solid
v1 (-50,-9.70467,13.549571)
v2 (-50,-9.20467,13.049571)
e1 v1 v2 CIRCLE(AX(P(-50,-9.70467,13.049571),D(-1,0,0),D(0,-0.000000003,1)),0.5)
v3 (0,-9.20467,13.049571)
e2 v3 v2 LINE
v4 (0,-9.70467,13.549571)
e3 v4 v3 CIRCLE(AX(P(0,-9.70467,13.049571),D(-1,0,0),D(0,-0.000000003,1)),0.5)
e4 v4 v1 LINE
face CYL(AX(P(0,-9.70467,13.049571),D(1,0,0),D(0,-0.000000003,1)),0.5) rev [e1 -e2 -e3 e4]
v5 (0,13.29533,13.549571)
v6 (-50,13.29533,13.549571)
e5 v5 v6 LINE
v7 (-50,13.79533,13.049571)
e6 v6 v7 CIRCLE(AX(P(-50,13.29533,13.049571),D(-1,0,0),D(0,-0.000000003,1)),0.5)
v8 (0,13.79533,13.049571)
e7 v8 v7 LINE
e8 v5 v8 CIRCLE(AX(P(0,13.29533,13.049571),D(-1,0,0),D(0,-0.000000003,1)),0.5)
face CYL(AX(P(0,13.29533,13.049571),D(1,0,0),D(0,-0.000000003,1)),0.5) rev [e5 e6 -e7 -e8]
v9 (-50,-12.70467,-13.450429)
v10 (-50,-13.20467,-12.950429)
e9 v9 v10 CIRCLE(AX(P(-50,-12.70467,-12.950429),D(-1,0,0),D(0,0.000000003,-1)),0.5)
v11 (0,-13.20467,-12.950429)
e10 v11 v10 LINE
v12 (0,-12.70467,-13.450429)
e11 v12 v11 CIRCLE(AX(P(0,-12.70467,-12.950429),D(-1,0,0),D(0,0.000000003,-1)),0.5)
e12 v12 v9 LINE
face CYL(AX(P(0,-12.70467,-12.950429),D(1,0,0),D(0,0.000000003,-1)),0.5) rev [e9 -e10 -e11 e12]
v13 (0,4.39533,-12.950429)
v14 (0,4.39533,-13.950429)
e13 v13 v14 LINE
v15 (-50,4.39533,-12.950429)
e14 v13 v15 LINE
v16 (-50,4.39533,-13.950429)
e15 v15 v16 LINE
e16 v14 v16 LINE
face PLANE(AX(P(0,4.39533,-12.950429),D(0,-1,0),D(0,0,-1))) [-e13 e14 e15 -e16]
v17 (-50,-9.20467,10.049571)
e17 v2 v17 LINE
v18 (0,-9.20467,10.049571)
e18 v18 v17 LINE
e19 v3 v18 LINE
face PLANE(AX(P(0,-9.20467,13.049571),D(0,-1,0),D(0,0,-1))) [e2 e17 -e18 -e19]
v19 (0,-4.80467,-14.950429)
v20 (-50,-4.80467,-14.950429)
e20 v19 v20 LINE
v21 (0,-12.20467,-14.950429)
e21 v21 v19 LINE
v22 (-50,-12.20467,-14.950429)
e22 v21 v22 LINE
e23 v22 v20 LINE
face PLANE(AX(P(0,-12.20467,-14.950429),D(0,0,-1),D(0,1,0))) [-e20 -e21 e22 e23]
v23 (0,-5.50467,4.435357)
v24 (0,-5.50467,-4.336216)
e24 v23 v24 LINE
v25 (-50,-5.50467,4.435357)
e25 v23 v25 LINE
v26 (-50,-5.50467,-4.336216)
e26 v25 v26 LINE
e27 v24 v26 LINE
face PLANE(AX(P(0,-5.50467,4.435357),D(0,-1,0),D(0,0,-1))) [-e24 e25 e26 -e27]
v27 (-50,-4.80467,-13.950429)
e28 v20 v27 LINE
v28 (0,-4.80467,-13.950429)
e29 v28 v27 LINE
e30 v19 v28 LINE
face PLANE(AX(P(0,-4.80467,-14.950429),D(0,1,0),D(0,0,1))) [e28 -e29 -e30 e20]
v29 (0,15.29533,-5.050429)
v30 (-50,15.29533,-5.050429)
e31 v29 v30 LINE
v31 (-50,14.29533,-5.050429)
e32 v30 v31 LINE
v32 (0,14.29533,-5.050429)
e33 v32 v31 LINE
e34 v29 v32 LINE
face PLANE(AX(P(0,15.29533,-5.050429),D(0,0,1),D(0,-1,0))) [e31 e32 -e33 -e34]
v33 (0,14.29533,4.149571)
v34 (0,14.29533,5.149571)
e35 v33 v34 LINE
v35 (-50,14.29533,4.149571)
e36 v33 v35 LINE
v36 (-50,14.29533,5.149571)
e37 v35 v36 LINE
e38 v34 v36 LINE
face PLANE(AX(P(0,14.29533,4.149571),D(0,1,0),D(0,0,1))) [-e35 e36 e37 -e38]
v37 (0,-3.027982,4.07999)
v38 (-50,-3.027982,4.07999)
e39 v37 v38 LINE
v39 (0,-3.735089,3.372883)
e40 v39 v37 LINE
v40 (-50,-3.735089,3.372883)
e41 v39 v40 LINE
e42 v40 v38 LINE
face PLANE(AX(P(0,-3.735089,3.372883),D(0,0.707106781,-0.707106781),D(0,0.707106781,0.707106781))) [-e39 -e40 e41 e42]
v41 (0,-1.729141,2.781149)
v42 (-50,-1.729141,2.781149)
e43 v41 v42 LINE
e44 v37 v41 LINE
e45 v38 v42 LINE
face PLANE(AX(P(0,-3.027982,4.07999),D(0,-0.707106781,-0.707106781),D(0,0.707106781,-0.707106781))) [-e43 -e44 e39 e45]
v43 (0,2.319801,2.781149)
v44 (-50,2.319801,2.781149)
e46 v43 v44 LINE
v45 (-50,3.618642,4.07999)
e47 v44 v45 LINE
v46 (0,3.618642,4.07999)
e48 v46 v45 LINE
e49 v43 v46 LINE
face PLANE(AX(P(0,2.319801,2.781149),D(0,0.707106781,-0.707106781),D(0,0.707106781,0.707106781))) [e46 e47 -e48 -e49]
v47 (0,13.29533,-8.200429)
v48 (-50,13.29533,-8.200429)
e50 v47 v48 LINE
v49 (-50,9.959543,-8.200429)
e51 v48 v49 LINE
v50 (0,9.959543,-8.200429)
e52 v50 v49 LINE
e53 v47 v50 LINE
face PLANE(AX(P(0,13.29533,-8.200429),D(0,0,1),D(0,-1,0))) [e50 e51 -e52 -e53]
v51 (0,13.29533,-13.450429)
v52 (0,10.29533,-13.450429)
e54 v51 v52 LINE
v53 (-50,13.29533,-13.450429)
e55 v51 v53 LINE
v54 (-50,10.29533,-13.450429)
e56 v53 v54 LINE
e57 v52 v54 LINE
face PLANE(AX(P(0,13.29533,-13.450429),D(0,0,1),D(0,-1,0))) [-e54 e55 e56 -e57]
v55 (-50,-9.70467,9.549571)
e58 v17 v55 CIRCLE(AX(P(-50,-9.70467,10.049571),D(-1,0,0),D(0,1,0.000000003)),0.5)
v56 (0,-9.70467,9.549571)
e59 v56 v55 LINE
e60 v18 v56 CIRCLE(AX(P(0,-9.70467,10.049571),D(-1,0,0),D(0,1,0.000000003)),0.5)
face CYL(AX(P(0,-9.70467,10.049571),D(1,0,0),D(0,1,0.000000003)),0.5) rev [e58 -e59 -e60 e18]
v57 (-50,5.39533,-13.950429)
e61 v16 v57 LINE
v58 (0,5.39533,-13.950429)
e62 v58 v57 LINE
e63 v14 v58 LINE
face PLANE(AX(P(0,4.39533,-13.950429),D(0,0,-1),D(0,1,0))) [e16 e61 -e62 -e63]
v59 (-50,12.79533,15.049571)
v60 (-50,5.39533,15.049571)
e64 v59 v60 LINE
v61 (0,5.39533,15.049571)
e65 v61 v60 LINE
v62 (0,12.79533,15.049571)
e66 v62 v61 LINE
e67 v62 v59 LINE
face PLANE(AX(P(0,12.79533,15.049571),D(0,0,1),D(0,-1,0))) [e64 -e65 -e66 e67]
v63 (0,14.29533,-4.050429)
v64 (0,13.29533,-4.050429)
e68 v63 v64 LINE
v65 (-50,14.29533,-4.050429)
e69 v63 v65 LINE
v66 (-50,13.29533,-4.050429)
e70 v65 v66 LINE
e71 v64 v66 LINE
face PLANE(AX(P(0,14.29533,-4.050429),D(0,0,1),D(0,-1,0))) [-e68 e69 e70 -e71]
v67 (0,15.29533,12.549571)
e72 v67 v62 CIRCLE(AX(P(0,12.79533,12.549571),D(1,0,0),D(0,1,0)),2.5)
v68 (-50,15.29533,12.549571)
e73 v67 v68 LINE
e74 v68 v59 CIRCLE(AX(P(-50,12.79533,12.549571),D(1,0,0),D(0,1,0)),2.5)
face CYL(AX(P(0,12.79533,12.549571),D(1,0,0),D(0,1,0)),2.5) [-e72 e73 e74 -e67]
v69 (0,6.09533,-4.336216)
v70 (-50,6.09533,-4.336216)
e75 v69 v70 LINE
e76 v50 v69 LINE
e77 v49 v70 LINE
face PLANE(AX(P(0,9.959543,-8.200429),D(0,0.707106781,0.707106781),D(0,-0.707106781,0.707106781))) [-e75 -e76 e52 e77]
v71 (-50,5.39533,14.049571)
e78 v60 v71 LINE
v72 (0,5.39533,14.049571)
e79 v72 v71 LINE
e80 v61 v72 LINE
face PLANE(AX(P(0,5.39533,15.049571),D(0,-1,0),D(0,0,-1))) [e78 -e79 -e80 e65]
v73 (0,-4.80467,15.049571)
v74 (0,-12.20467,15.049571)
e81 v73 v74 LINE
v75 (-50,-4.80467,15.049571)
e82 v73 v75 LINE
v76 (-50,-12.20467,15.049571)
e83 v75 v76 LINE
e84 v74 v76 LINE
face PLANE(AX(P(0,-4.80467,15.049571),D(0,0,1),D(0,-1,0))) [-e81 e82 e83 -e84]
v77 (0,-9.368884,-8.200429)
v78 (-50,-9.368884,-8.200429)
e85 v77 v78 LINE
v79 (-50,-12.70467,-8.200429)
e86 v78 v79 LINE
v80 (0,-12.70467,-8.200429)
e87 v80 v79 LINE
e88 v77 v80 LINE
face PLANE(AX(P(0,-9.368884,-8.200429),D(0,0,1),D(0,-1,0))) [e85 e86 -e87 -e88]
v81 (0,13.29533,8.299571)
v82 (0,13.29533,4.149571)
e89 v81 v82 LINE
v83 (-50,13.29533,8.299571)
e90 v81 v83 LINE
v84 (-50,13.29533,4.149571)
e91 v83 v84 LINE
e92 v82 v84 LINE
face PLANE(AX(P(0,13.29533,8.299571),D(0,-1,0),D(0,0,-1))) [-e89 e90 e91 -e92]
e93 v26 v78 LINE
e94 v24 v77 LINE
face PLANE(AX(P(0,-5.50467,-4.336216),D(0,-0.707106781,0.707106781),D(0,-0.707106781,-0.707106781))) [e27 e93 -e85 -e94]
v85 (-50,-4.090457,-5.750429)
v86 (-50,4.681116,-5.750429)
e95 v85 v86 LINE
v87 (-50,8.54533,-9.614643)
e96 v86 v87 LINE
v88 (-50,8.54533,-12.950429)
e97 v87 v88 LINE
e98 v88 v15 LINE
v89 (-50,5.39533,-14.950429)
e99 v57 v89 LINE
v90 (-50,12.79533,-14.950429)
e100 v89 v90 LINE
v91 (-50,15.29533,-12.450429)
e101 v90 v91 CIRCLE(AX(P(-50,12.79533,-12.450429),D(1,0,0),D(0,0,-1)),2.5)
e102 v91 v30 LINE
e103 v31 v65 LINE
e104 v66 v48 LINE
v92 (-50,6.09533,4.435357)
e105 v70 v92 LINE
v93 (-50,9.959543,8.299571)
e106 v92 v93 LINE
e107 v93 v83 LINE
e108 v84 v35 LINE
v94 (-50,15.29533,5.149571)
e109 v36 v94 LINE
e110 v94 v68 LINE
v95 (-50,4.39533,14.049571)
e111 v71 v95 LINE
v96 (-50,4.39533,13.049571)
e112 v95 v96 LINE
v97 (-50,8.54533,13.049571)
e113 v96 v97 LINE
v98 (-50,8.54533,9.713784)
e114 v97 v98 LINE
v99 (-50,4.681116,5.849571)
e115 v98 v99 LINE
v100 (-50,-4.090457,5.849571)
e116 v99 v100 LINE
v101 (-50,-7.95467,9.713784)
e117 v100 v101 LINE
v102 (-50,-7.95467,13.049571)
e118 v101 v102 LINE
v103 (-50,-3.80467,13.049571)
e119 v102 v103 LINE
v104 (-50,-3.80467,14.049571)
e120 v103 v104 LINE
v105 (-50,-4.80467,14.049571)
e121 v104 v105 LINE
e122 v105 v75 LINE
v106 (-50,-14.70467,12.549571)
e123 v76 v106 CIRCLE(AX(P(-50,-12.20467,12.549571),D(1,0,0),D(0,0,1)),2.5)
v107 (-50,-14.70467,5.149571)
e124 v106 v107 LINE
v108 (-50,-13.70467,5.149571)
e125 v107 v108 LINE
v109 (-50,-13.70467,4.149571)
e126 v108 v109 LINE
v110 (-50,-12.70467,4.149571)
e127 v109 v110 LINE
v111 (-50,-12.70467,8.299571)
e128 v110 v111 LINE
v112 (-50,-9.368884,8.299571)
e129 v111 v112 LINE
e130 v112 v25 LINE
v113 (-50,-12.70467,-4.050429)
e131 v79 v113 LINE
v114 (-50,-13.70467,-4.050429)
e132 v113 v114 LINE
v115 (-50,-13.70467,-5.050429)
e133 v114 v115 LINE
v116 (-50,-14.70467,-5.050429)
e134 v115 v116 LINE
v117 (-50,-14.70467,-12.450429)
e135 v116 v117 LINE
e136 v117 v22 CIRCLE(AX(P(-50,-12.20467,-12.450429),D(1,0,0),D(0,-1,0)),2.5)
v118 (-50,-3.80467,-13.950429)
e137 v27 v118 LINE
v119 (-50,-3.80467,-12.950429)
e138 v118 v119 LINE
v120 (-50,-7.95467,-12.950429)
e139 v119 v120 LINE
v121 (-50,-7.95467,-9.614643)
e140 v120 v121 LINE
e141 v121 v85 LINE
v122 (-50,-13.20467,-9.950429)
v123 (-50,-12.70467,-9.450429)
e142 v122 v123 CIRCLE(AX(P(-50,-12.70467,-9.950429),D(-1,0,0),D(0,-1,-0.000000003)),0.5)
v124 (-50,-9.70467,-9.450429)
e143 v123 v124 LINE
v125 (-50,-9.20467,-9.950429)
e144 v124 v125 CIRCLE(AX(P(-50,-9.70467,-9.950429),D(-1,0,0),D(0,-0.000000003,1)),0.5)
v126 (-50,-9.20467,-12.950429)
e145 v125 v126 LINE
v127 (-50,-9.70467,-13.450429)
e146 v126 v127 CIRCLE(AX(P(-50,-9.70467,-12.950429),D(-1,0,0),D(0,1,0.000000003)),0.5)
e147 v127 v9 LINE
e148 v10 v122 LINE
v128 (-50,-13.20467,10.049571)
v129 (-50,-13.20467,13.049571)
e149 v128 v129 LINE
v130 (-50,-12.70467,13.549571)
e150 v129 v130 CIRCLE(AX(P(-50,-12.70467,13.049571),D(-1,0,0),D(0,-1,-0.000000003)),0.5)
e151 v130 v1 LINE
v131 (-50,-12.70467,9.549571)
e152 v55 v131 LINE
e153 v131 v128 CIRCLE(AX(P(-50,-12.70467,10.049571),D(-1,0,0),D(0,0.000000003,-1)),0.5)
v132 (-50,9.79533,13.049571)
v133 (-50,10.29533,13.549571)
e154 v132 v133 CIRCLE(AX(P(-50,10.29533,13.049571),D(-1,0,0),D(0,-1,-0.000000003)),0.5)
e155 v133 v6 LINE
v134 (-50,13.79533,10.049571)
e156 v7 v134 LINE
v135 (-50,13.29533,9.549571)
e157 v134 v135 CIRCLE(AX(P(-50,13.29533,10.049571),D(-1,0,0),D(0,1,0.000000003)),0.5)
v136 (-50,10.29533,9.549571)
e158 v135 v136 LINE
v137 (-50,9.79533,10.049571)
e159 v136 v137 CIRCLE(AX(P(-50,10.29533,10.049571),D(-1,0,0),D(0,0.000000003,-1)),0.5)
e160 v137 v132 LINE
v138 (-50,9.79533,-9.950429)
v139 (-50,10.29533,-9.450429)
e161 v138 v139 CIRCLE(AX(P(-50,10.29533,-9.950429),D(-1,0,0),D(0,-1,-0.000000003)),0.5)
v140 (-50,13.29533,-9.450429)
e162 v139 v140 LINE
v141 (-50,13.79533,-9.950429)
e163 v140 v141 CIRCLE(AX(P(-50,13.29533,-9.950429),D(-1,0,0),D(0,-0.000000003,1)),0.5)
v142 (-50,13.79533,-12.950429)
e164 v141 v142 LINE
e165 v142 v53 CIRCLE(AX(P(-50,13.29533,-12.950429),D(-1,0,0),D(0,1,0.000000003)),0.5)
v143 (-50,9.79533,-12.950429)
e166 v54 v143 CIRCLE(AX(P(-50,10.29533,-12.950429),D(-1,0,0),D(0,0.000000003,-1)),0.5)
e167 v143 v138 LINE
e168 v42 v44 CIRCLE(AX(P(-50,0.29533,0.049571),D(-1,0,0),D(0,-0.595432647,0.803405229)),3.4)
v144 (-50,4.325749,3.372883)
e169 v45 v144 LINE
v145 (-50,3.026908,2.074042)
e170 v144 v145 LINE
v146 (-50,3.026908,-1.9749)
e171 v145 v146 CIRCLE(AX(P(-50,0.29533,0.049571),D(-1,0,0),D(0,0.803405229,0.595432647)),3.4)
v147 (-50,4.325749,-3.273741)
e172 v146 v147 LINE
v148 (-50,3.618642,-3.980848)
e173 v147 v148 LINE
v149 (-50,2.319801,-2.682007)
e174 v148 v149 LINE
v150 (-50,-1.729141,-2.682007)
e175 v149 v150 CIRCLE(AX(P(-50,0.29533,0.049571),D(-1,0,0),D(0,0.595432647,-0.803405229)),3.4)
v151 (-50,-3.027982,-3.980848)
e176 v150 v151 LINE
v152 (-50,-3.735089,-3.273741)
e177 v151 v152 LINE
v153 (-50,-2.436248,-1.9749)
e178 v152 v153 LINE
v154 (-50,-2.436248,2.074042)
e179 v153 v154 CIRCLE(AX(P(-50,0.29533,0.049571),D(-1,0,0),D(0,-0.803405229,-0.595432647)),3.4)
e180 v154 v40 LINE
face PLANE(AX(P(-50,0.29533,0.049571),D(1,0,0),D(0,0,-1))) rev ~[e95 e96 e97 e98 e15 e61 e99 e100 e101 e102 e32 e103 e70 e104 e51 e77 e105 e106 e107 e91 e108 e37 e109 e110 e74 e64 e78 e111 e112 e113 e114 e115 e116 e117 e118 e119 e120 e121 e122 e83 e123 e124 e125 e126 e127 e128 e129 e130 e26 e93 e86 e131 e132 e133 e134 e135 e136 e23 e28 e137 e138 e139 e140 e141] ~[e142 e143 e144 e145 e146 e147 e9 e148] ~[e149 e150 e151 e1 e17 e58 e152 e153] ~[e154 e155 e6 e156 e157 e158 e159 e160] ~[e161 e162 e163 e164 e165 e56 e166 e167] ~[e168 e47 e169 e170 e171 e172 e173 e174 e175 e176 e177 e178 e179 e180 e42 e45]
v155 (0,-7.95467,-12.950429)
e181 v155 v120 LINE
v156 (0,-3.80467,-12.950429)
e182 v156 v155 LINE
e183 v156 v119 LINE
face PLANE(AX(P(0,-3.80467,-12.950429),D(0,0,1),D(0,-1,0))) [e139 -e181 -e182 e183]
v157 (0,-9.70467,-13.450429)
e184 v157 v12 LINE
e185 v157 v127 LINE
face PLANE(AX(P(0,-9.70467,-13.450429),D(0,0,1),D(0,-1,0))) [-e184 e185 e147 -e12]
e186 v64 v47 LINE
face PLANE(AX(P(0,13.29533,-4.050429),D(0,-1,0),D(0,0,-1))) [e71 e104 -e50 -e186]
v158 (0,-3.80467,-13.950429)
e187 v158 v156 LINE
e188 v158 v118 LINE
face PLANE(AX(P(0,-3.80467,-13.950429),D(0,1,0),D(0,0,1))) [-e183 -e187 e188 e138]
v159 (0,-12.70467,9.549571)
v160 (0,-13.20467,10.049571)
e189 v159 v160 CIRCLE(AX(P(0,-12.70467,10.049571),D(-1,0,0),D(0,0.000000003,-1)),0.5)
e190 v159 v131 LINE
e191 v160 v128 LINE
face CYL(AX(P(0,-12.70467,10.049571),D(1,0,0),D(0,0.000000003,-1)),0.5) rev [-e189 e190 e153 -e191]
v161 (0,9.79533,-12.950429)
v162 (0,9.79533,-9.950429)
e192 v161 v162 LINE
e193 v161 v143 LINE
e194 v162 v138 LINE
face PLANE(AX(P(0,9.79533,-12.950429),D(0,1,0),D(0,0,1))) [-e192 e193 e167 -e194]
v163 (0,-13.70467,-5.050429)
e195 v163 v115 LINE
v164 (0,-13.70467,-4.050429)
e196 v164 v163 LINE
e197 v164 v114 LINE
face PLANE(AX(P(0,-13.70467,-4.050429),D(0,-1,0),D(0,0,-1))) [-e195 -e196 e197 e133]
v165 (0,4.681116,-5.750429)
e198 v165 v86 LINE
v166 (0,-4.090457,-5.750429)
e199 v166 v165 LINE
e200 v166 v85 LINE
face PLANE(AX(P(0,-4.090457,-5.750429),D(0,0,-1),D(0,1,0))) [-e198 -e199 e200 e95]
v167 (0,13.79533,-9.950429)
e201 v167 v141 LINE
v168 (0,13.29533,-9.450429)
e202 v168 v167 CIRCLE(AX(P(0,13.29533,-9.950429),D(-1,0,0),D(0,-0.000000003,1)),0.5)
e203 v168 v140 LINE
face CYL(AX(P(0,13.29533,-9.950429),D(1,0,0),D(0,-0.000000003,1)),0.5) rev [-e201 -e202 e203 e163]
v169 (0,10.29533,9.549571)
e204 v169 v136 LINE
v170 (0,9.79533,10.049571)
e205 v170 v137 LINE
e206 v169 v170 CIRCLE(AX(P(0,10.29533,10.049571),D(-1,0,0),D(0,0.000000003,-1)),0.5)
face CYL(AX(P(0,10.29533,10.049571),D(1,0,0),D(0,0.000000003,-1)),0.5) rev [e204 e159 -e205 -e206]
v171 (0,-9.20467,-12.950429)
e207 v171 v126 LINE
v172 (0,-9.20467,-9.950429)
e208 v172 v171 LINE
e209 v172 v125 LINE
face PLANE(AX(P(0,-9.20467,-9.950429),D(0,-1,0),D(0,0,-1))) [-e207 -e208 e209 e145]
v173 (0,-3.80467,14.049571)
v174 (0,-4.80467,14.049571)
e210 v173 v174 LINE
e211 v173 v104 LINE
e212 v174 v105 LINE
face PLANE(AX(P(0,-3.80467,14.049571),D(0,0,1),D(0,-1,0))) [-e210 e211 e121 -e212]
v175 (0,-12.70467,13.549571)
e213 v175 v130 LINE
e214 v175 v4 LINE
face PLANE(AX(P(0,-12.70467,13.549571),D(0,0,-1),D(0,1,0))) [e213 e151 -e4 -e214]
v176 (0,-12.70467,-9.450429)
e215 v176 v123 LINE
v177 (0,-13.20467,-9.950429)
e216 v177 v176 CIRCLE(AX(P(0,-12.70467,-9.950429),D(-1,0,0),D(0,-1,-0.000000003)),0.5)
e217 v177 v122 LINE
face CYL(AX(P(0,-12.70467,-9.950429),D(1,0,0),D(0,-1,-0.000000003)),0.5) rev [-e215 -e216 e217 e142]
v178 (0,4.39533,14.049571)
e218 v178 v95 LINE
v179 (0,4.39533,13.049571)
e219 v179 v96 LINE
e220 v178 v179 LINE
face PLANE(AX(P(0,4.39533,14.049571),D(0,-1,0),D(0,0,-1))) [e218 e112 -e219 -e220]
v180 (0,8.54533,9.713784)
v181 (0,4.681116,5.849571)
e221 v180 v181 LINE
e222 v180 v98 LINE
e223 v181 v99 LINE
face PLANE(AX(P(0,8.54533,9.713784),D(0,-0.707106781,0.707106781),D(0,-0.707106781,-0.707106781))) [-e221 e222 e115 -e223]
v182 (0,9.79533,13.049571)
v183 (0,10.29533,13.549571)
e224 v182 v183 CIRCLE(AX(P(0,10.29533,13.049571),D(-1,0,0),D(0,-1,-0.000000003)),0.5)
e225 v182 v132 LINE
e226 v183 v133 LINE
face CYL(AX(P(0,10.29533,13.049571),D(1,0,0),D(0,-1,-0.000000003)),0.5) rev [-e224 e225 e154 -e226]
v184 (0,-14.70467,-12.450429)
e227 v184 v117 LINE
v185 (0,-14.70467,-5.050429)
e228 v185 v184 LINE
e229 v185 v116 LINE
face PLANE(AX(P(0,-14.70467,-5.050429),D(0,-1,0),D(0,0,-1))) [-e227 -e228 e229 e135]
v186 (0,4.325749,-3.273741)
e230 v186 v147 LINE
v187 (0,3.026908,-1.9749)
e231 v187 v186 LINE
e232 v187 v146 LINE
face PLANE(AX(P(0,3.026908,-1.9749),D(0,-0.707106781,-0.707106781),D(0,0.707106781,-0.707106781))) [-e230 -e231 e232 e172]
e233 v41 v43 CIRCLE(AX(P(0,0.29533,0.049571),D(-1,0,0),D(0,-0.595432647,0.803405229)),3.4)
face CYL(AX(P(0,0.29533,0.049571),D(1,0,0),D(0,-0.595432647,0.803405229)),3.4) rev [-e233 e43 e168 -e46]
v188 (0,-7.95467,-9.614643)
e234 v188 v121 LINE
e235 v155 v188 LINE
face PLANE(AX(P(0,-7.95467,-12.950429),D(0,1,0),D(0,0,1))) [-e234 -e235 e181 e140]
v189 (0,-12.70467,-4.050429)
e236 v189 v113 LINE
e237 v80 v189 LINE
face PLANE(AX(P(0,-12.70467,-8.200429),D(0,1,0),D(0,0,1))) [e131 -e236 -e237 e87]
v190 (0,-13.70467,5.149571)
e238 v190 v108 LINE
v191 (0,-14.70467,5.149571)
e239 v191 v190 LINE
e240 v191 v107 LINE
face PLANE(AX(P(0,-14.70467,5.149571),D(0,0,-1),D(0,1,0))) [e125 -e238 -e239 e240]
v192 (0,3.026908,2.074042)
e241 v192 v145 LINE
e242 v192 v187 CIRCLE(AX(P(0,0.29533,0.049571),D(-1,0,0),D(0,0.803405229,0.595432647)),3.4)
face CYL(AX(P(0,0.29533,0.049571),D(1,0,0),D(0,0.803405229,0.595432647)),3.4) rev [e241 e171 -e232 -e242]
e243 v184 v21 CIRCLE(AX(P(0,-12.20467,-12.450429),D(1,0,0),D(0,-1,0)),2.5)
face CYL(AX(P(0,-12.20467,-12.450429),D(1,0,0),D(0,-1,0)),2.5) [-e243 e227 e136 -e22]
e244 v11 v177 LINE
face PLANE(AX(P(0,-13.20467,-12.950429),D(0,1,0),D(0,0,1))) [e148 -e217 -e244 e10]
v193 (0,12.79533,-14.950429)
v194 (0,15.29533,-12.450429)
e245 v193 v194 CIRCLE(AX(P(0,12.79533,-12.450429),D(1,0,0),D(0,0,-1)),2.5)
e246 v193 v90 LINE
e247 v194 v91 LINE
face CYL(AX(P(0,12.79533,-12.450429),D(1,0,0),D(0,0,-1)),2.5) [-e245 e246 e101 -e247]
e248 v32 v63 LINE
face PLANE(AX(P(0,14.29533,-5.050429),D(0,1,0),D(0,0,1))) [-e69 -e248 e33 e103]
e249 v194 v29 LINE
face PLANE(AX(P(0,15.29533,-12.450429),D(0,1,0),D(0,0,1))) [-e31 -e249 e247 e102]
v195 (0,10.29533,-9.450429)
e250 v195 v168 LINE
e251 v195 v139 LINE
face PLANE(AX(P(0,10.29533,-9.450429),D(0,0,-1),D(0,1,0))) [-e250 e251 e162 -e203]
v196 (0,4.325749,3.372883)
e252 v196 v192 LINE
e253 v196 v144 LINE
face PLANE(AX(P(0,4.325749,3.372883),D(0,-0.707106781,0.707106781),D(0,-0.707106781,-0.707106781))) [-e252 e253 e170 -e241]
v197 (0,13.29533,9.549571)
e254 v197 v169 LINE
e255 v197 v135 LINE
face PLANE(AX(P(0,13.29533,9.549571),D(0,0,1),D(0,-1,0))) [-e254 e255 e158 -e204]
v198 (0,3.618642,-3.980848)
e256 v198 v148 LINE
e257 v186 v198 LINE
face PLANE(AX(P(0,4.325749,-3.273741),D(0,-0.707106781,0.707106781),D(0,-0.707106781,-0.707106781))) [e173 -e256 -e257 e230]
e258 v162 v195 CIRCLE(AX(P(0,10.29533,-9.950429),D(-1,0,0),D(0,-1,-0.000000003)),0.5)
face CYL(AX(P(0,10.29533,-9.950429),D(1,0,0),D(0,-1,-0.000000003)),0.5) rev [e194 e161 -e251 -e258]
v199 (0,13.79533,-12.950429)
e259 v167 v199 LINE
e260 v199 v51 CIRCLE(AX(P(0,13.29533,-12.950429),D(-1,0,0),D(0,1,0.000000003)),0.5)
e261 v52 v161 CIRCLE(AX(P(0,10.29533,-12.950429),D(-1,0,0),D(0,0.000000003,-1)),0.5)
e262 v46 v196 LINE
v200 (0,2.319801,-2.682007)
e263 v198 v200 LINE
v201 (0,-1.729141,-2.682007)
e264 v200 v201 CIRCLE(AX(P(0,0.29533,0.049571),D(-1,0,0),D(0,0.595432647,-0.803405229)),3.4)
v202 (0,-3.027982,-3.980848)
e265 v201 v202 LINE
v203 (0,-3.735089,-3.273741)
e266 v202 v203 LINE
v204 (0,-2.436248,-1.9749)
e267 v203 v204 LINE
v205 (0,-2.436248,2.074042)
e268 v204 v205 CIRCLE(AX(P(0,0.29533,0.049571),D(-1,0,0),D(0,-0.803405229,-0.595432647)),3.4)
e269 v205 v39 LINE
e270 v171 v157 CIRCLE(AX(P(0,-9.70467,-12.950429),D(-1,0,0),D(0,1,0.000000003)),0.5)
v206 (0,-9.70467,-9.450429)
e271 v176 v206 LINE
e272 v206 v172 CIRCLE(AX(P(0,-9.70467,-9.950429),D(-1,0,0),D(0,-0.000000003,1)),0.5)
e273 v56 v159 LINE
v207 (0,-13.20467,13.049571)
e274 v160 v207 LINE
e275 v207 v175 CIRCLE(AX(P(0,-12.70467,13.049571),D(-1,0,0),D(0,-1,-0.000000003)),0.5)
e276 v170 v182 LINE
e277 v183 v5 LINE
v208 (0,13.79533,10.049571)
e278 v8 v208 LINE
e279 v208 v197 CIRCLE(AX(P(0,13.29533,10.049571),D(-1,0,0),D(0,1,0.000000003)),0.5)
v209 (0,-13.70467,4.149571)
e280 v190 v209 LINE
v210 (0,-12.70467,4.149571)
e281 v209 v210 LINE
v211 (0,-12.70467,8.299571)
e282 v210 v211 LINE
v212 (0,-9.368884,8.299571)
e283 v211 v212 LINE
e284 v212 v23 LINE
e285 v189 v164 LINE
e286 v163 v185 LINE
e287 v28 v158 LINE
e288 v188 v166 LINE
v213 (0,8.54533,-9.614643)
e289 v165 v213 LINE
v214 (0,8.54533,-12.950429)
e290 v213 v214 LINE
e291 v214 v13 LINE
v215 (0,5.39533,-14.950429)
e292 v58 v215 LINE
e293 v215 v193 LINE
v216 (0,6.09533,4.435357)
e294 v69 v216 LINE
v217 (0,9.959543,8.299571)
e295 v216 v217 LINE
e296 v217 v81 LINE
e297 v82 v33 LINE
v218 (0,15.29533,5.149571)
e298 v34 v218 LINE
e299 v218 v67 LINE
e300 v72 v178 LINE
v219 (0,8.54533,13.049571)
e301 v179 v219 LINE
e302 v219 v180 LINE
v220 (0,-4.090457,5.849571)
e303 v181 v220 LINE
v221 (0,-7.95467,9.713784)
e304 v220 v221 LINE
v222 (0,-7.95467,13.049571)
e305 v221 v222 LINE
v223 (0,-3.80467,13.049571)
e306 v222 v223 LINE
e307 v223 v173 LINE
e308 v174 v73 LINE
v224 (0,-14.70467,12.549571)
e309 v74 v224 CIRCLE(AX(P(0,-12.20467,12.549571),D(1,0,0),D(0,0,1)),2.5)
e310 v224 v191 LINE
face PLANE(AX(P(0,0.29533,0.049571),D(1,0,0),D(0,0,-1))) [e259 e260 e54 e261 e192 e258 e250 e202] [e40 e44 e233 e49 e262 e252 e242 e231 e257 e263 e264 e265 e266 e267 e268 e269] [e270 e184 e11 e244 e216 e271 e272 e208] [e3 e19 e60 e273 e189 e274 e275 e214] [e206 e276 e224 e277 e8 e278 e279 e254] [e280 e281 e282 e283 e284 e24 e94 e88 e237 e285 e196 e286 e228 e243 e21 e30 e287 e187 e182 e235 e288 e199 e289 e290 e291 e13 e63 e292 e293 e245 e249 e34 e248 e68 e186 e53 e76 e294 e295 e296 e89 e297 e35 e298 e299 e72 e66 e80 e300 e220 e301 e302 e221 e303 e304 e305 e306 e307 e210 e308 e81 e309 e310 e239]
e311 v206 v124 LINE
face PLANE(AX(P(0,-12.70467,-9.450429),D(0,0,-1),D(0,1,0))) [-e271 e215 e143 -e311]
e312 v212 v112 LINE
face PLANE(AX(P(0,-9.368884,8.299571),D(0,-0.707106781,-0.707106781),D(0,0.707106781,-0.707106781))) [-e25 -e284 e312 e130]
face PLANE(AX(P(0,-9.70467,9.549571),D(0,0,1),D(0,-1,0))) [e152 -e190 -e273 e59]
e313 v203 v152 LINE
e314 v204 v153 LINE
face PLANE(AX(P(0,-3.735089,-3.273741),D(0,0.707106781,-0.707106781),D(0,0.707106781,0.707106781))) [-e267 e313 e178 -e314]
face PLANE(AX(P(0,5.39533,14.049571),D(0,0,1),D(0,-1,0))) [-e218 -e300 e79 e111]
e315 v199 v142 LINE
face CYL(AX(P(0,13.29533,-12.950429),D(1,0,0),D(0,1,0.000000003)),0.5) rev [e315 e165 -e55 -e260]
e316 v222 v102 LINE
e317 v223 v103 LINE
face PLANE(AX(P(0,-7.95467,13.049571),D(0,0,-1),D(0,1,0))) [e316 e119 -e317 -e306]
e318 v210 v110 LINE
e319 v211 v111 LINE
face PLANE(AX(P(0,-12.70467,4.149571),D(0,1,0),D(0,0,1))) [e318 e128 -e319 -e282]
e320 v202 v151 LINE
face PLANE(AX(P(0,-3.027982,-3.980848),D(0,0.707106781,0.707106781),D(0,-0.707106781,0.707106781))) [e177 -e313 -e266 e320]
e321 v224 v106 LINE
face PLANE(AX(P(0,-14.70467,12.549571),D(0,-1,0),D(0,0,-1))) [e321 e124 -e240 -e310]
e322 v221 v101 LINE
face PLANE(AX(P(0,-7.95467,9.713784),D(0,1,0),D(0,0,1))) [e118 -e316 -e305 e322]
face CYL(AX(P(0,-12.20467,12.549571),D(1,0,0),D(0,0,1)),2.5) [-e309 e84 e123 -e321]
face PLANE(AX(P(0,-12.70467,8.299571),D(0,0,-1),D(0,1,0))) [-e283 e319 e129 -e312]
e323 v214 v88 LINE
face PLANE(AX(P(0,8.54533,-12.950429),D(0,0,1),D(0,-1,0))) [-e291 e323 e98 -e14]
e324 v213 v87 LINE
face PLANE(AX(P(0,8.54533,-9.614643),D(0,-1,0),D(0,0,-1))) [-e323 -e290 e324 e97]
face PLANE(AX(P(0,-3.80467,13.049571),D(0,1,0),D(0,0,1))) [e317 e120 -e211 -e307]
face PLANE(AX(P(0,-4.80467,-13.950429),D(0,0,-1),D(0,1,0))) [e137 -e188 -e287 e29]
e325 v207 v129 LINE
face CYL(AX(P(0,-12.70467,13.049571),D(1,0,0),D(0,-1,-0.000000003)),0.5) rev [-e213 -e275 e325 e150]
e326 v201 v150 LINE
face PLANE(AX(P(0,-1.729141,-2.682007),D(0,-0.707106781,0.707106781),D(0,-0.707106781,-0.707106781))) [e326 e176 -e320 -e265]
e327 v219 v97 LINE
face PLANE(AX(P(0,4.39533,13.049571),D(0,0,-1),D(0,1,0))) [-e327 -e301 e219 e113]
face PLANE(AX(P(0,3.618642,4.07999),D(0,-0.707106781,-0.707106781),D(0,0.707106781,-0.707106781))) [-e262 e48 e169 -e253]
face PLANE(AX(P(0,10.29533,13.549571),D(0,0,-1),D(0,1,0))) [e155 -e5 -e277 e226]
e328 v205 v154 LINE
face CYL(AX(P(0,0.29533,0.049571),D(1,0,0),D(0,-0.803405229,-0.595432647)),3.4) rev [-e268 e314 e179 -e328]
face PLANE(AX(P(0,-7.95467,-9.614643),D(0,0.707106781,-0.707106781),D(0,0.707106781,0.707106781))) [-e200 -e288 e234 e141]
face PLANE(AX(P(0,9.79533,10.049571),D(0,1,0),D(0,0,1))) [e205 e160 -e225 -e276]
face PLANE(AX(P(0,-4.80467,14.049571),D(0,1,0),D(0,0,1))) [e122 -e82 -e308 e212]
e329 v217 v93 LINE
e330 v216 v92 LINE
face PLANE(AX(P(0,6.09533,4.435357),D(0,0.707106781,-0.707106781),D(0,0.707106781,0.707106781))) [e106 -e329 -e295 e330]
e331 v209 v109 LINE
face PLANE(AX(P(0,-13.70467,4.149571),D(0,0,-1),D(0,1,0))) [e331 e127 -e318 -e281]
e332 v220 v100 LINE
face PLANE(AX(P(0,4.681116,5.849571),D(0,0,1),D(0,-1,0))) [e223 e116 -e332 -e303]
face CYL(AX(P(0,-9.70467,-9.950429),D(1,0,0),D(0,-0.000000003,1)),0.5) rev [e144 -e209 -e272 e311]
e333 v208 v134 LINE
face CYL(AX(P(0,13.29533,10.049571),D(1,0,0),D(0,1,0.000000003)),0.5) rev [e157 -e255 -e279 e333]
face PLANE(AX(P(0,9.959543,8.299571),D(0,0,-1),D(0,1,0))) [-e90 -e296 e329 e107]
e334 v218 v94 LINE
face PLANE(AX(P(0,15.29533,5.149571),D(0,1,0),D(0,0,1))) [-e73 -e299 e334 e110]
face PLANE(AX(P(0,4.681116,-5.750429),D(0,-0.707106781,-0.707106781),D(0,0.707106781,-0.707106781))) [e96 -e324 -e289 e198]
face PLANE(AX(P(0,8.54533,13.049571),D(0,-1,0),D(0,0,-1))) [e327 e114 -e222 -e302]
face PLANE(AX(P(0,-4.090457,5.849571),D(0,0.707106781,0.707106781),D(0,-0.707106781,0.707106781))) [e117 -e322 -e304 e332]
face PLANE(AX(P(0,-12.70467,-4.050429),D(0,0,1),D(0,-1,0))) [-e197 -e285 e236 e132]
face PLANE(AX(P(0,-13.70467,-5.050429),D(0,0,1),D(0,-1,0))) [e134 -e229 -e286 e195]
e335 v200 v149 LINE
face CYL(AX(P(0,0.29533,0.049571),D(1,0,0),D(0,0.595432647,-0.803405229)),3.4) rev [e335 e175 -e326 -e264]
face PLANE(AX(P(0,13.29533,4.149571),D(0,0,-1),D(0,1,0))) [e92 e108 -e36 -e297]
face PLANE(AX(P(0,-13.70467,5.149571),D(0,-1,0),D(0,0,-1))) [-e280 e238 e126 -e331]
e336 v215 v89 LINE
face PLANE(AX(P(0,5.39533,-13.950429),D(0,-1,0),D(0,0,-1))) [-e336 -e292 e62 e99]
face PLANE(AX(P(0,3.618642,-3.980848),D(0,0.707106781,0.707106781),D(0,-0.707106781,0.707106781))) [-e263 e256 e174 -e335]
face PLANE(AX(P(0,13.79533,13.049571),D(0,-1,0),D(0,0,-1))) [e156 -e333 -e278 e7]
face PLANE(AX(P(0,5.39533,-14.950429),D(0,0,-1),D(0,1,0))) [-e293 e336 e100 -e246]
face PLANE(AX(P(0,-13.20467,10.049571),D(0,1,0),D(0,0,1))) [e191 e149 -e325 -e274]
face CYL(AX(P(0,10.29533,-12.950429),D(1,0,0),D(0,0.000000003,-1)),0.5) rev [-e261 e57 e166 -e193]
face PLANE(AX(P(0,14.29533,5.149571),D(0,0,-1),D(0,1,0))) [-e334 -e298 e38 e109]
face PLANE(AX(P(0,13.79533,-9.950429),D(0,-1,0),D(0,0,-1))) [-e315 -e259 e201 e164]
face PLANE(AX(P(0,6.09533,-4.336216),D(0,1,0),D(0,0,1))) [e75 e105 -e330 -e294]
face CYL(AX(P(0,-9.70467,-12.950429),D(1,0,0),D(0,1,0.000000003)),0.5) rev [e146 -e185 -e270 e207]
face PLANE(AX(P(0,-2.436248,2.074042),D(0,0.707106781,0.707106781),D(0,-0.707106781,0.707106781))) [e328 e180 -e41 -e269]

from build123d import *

# Parameters (mm, degrees)
EXTRUDE_1_DEPTH = 50


with BuildPart() as part:
    # 草图1 → 凸台-拉伸1 (new body)
    with BuildSketch(Plane(origin=(0, 0, 0), x_dir=(0, 0, -1), z_dir=(1, 0, 0))):
        with BuildLine():
            Line((-5.14957074, -13.70467014), (-4.14957074, -13.70467014))
            Line((-4.14957074, -13.70467014), (-4.14957074, -12.70467014))
            Line((-4.14957074, -12.70467014), (-8.29957074, -12.70467014))
            Line((-8.29957074, -12.70467014), (-8.29957074, -9.3688837))
            Line((-8.29957074, -9.3688837), (-4.43535718, -5.50467014))
            Line((-4.43535718, -5.50467014), (4.3362157, -5.50467014))
            Line((4.3362157, -5.50467014), (8.20042926, -9.3688837))
            Line((8.20042926, -9.3688837), (8.20042926, -12.70467014))
            Line((8.20042926, -12.70467014), (4.05042926, -12.70467014))
            Line((4.05042926, -12.70467014), (4.05042926, -13.70467014))
            Line((4.05042926, -13.70467014), (5.05042926, -13.70467014))
            Line((5.05042926, -13.70467014), (5.05042926, -14.70467014))
            Line((5.05042926, -14.70467014), (12.45042926, -14.70467014))
            ThreePointArc((12.45042926, -14.70467014), (14.218196213, -13.972437093), (14.95042926, -12.20467014))
            Line((14.95042926, -12.20467014), (14.95042926, -4.80467014))
            Line((14.95042926, -4.80467014), (13.95042926, -4.80467014))
            Line((13.95042926, -4.80467014), (13.95042926, -3.80467014))
            Line((13.95042926, -3.80467014), (12.95042926, -3.80467014))
            Line((12.95042926, -3.80467014), (12.95042926, -7.95467014))
            Line((12.95042926, -7.95467014), (9.61464282, -7.95467014))
            Line((9.61464282, -7.95467014), (5.75042926, -4.09045658))
            Line((5.75042926, -4.09045658), (5.75042926, 4.6811163))
            Line((5.75042926, 4.6811163), (9.61464282, 8.54532986))
            Line((9.61464282, 8.54532986), (12.95042926, 8.54532986))
            Line((12.95042926, 8.54532986), (12.95042926, 4.39532986))
            Line((12.95042926, 4.39532986), (13.95042926, 4.39532986))
            Line((13.95042926, 4.39532986), (13.95042926, 5.39532986))
            Line((13.95042926, 5.39532986), (14.95042926, 5.39532986))
            Line((14.95042926, 5.39532986), (14.95042926, 12.79532986))
            ThreePointArc((14.95042926, 12.79532986), (14.218196213, 14.563096813), (12.45042926, 15.29532986))
            Line((12.45042926, 15.29532986), (5.05042926, 15.29532986))
            Line((5.05042926, 15.29532986), (5.05042926, 14.29532986))
            Line((5.05042926, 14.29532986), (4.05042926, 14.29532986))
            Line((4.05042926, 14.29532986), (4.05042926, 13.29532986))
            Line((4.05042926, 13.29532986), (8.20042926, 13.29532986))
            Line((8.20042926, 13.29532986), (8.20042926, 9.95954342))
            Line((8.20042926, 9.95954342), (4.3362157, 6.09532986))
            Line((4.3362157, 6.09532986), (-4.43535718, 6.09532986))
            Line((-4.43535718, 6.09532986), (-8.29957074, 9.95954342))
            Line((-8.29957074, 9.95954342), (-8.29957074, 13.29532986))
            Line((-8.29957074, 13.29532986), (-4.14957074, 13.29532986))
            Line((-4.14957074, 13.29532986), (-4.14957074, 14.29532986))
            Line((-4.14957074, 14.29532986), (-5.14957074, 14.29532986))
            Line((-5.14957074, 14.29532986), (-5.14957074, 15.29532986))
            Line((-5.14957074, 15.29532986), (-12.54957074, 15.29532986))
            ThreePointArc((-12.54957074, 15.29532986), (-14.317337693, 14.563096813), (-15.04957074, 12.79532986))
            Line((-15.04957074, 12.79532986), (-15.04957074, 5.39532986))
            Line((-15.04957074, 5.39532986), (-14.04957074, 5.39532986))
            Line((-14.04957074, 5.39532986), (-14.04957074, 4.39532986))
            Line((-14.04957074, 4.39532986), (-13.04957074, 4.39532986))
            Line((-13.04957074, 4.39532986), (-13.04957074, 8.54532986))
            Line((-13.04957074, 8.54532986), (-9.7137843, 8.54532986))
            Line((-9.7137843, 8.54532986), (-5.84957074, 4.6811163))
            Line((-5.84957074, 4.6811163), (-5.84957074, -4.09045658))
            Line((-5.84957074, -4.09045658), (-9.7137843, -7.95467014))
            Line((-9.7137843, -7.95467014), (-13.04957074, -7.95467014))
            Line((-13.04957074, -7.95467014), (-13.04957074, -3.80467014))
            Line((-13.04957074, -3.80467014), (-14.04957074, -3.80467014))
            Line((-14.04957074, -3.80467014), (-14.04957074, -4.80467014))
            Line((-14.04957074, -4.80467014), (-15.04957074, -4.80467014))
            Line((-15.04957074, -4.80467014), (-15.04957074, -12.20467014))
            ThreePointArc((-15.04957074, -12.20467014), (-14.317337693, -13.972437093), (-12.54957074, -14.70467014))
            Line((-12.54957074, -14.70467014), (-5.14957074, -14.70467014))
            Line((-5.14957074, -14.70467014), (-5.14957074, -13.70467014))
        make_face()
        with BuildLine():
            Line((-10.04957074, 9.79532986), (-13.04957074, 9.79532986))
            ThreePointArc((-13.04957074, 9.79532986), (-13.403124131, 9.941776469), (-13.54957074, 10.29532986))
            Line((-13.54957074, 10.29532986), (-13.54957074, 13.29532986))
            ThreePointArc((-13.54957074, 13.29532986), (-13.403124131, 13.648883251), (-13.04957074, 13.79532986))
            Line((-13.04957074, 13.79532986), (-10.04957074, 13.79532986))
            ThreePointArc((-10.04957074, 13.79532986), (-9.696017349, 13.648883251), (-9.54957074, 13.29532986))
            Line((-9.54957074, 13.29532986), (-9.54957074, 10.29532986))
            ThreePointArc((-9.54957074, 10.29532986), (-9.696017349, 9.941776469), (-10.04957074, 9.79532986))
        make_face(mode=Mode.SUBTRACT)
        with BuildLine():
            Line((-10.04957074, -13.20467014), (-13.04957074, -13.20467014))
            ThreePointArc((-13.04957074, -13.20467014), (-13.403124131, -13.058223531), (-13.54957074, -12.70467014))
            Line((-13.54957074, -12.70467014), (-13.54957074, -9.70467014))
            ThreePointArc((-13.54957074, -9.70467014), (-13.403124131, -9.351116749), (-13.04957074, -9.20467014))
            Line((-13.04957074, -9.20467014), (-10.04957074, -9.20467014))
            ThreePointArc((-10.04957074, -9.20467014), (-9.696017349, -9.351116749), (-9.54957074, -9.70467014))
            Line((-9.54957074, -9.70467014), (-9.54957074, -12.70467014))
            ThreePointArc((-9.54957074, -12.70467014), (-9.696017349, -13.058223531), (-10.04957074, -13.20467014))
        make_face(mode=Mode.SUBTRACT)
        with BuildLine():
            Line((12.95042926, 9.79532986), (9.95042926, 9.79532986))
            ThreePointArc((9.95042926, 9.79532986), (9.596875869, 9.941776469), (9.45042926, 10.29532986))
            Line((9.45042926, 10.29532986), (9.45042926, 13.29532986))
            ThreePointArc((9.45042926, 13.29532986), (9.596875869, 13.648883251), (9.95042926, 13.79532986))
            Line((9.95042926, 13.79532986), (12.95042926, 13.79532986))
            ThreePointArc((12.95042926, 13.79532986), (13.303982651, 13.648883251), (13.45042926, 13.29532986))
            Line((13.45042926, 13.29532986), (13.45042926, 10.29532986))
            ThreePointArc((13.45042926, 10.29532986), (13.303982651, 9.941776469), (12.95042926, 9.79532986))
        make_face(mode=Mode.SUBTRACT)
        with BuildLine():
            Line((13.45042926, -9.70467014), (13.45042926, -12.70467014))
            ThreePointArc((13.45042926, -12.70467014), (13.303982651, -13.058223531), (12.95042926, -13.20467014))
            Line((12.95042926, -13.20467014), (9.95042926, -13.20467014))
            ThreePointArc((9.95042926, -13.20467014), (9.596875869, -13.058223531), (9.45042926, -12.70467014))
            Line((9.45042926, -12.70467014), (9.45042926, -9.70467014))
            ThreePointArc((9.45042926, -9.70467014), (9.596875869, -9.351116749), (9.95042926, -9.20467014))
            Line((9.95042926, -9.20467014), (12.95042926, -9.20467014))
            ThreePointArc((12.95042926, -9.20467014), (13.303982651, -9.351116749), (13.45042926, -9.70467014))
        make_face(mode=Mode.SUBTRACT)
        with BuildLine():
            Line((-4.07998961, 3.61864195), (-3.37288283, 4.32574873))
            Line((-3.37288283, 4.32574873), (-2.07404174, 3.02690764))
            ThreePointArc((-2.07404174, 3.02690764), (-0.04957074, 3.69532986), (1.97490026, 3.02690764))
            Line((1.97490026, 3.02690764), (3.27374135, 4.32574873))
            Line((3.27374135, 4.32574873), (3.98084813, 3.61864195))
            Line((3.98084813, 3.61864195), (2.68200704, 2.31980086))
            ThreePointArc((2.68200704, 2.31980086), (3.35042926, 0.29532986), (2.68200704, -1.72914114))
            Line((2.68200704, -1.72914114), (3.98084813, -3.02798223))
            Line((3.98084813, -3.02798223), (3.27374135, -3.73508901))
            Line((3.27374135, -3.73508901), (1.97490026, -2.43624792))
            ThreePointArc((1.97490026, -2.43624792), (-0.04957074, -3.10467014), (-2.07404174, -2.43624792))
            Line((-2.07404174, -2.43624792), (-3.37288283, -3.73508901))
            Line((-3.37288283, -3.73508901), (-4.07998961, -3.02798223))
            Line((-4.07998961, -3.02798223), (-2.78114852, -1.72914114))
            ThreePointArc((-2.78114852, -1.72914114), (-3.44957074, 0.29532986), (-2.78114852, 2.31980086))
            Line((-2.78114852, 2.31980086), (-4.07998961, 3.61864195))
        make_face(mode=Mode.SUBTRACT)
    extrude(amount=-EXTRUDE_1_DEPTH)


solid = part.part
